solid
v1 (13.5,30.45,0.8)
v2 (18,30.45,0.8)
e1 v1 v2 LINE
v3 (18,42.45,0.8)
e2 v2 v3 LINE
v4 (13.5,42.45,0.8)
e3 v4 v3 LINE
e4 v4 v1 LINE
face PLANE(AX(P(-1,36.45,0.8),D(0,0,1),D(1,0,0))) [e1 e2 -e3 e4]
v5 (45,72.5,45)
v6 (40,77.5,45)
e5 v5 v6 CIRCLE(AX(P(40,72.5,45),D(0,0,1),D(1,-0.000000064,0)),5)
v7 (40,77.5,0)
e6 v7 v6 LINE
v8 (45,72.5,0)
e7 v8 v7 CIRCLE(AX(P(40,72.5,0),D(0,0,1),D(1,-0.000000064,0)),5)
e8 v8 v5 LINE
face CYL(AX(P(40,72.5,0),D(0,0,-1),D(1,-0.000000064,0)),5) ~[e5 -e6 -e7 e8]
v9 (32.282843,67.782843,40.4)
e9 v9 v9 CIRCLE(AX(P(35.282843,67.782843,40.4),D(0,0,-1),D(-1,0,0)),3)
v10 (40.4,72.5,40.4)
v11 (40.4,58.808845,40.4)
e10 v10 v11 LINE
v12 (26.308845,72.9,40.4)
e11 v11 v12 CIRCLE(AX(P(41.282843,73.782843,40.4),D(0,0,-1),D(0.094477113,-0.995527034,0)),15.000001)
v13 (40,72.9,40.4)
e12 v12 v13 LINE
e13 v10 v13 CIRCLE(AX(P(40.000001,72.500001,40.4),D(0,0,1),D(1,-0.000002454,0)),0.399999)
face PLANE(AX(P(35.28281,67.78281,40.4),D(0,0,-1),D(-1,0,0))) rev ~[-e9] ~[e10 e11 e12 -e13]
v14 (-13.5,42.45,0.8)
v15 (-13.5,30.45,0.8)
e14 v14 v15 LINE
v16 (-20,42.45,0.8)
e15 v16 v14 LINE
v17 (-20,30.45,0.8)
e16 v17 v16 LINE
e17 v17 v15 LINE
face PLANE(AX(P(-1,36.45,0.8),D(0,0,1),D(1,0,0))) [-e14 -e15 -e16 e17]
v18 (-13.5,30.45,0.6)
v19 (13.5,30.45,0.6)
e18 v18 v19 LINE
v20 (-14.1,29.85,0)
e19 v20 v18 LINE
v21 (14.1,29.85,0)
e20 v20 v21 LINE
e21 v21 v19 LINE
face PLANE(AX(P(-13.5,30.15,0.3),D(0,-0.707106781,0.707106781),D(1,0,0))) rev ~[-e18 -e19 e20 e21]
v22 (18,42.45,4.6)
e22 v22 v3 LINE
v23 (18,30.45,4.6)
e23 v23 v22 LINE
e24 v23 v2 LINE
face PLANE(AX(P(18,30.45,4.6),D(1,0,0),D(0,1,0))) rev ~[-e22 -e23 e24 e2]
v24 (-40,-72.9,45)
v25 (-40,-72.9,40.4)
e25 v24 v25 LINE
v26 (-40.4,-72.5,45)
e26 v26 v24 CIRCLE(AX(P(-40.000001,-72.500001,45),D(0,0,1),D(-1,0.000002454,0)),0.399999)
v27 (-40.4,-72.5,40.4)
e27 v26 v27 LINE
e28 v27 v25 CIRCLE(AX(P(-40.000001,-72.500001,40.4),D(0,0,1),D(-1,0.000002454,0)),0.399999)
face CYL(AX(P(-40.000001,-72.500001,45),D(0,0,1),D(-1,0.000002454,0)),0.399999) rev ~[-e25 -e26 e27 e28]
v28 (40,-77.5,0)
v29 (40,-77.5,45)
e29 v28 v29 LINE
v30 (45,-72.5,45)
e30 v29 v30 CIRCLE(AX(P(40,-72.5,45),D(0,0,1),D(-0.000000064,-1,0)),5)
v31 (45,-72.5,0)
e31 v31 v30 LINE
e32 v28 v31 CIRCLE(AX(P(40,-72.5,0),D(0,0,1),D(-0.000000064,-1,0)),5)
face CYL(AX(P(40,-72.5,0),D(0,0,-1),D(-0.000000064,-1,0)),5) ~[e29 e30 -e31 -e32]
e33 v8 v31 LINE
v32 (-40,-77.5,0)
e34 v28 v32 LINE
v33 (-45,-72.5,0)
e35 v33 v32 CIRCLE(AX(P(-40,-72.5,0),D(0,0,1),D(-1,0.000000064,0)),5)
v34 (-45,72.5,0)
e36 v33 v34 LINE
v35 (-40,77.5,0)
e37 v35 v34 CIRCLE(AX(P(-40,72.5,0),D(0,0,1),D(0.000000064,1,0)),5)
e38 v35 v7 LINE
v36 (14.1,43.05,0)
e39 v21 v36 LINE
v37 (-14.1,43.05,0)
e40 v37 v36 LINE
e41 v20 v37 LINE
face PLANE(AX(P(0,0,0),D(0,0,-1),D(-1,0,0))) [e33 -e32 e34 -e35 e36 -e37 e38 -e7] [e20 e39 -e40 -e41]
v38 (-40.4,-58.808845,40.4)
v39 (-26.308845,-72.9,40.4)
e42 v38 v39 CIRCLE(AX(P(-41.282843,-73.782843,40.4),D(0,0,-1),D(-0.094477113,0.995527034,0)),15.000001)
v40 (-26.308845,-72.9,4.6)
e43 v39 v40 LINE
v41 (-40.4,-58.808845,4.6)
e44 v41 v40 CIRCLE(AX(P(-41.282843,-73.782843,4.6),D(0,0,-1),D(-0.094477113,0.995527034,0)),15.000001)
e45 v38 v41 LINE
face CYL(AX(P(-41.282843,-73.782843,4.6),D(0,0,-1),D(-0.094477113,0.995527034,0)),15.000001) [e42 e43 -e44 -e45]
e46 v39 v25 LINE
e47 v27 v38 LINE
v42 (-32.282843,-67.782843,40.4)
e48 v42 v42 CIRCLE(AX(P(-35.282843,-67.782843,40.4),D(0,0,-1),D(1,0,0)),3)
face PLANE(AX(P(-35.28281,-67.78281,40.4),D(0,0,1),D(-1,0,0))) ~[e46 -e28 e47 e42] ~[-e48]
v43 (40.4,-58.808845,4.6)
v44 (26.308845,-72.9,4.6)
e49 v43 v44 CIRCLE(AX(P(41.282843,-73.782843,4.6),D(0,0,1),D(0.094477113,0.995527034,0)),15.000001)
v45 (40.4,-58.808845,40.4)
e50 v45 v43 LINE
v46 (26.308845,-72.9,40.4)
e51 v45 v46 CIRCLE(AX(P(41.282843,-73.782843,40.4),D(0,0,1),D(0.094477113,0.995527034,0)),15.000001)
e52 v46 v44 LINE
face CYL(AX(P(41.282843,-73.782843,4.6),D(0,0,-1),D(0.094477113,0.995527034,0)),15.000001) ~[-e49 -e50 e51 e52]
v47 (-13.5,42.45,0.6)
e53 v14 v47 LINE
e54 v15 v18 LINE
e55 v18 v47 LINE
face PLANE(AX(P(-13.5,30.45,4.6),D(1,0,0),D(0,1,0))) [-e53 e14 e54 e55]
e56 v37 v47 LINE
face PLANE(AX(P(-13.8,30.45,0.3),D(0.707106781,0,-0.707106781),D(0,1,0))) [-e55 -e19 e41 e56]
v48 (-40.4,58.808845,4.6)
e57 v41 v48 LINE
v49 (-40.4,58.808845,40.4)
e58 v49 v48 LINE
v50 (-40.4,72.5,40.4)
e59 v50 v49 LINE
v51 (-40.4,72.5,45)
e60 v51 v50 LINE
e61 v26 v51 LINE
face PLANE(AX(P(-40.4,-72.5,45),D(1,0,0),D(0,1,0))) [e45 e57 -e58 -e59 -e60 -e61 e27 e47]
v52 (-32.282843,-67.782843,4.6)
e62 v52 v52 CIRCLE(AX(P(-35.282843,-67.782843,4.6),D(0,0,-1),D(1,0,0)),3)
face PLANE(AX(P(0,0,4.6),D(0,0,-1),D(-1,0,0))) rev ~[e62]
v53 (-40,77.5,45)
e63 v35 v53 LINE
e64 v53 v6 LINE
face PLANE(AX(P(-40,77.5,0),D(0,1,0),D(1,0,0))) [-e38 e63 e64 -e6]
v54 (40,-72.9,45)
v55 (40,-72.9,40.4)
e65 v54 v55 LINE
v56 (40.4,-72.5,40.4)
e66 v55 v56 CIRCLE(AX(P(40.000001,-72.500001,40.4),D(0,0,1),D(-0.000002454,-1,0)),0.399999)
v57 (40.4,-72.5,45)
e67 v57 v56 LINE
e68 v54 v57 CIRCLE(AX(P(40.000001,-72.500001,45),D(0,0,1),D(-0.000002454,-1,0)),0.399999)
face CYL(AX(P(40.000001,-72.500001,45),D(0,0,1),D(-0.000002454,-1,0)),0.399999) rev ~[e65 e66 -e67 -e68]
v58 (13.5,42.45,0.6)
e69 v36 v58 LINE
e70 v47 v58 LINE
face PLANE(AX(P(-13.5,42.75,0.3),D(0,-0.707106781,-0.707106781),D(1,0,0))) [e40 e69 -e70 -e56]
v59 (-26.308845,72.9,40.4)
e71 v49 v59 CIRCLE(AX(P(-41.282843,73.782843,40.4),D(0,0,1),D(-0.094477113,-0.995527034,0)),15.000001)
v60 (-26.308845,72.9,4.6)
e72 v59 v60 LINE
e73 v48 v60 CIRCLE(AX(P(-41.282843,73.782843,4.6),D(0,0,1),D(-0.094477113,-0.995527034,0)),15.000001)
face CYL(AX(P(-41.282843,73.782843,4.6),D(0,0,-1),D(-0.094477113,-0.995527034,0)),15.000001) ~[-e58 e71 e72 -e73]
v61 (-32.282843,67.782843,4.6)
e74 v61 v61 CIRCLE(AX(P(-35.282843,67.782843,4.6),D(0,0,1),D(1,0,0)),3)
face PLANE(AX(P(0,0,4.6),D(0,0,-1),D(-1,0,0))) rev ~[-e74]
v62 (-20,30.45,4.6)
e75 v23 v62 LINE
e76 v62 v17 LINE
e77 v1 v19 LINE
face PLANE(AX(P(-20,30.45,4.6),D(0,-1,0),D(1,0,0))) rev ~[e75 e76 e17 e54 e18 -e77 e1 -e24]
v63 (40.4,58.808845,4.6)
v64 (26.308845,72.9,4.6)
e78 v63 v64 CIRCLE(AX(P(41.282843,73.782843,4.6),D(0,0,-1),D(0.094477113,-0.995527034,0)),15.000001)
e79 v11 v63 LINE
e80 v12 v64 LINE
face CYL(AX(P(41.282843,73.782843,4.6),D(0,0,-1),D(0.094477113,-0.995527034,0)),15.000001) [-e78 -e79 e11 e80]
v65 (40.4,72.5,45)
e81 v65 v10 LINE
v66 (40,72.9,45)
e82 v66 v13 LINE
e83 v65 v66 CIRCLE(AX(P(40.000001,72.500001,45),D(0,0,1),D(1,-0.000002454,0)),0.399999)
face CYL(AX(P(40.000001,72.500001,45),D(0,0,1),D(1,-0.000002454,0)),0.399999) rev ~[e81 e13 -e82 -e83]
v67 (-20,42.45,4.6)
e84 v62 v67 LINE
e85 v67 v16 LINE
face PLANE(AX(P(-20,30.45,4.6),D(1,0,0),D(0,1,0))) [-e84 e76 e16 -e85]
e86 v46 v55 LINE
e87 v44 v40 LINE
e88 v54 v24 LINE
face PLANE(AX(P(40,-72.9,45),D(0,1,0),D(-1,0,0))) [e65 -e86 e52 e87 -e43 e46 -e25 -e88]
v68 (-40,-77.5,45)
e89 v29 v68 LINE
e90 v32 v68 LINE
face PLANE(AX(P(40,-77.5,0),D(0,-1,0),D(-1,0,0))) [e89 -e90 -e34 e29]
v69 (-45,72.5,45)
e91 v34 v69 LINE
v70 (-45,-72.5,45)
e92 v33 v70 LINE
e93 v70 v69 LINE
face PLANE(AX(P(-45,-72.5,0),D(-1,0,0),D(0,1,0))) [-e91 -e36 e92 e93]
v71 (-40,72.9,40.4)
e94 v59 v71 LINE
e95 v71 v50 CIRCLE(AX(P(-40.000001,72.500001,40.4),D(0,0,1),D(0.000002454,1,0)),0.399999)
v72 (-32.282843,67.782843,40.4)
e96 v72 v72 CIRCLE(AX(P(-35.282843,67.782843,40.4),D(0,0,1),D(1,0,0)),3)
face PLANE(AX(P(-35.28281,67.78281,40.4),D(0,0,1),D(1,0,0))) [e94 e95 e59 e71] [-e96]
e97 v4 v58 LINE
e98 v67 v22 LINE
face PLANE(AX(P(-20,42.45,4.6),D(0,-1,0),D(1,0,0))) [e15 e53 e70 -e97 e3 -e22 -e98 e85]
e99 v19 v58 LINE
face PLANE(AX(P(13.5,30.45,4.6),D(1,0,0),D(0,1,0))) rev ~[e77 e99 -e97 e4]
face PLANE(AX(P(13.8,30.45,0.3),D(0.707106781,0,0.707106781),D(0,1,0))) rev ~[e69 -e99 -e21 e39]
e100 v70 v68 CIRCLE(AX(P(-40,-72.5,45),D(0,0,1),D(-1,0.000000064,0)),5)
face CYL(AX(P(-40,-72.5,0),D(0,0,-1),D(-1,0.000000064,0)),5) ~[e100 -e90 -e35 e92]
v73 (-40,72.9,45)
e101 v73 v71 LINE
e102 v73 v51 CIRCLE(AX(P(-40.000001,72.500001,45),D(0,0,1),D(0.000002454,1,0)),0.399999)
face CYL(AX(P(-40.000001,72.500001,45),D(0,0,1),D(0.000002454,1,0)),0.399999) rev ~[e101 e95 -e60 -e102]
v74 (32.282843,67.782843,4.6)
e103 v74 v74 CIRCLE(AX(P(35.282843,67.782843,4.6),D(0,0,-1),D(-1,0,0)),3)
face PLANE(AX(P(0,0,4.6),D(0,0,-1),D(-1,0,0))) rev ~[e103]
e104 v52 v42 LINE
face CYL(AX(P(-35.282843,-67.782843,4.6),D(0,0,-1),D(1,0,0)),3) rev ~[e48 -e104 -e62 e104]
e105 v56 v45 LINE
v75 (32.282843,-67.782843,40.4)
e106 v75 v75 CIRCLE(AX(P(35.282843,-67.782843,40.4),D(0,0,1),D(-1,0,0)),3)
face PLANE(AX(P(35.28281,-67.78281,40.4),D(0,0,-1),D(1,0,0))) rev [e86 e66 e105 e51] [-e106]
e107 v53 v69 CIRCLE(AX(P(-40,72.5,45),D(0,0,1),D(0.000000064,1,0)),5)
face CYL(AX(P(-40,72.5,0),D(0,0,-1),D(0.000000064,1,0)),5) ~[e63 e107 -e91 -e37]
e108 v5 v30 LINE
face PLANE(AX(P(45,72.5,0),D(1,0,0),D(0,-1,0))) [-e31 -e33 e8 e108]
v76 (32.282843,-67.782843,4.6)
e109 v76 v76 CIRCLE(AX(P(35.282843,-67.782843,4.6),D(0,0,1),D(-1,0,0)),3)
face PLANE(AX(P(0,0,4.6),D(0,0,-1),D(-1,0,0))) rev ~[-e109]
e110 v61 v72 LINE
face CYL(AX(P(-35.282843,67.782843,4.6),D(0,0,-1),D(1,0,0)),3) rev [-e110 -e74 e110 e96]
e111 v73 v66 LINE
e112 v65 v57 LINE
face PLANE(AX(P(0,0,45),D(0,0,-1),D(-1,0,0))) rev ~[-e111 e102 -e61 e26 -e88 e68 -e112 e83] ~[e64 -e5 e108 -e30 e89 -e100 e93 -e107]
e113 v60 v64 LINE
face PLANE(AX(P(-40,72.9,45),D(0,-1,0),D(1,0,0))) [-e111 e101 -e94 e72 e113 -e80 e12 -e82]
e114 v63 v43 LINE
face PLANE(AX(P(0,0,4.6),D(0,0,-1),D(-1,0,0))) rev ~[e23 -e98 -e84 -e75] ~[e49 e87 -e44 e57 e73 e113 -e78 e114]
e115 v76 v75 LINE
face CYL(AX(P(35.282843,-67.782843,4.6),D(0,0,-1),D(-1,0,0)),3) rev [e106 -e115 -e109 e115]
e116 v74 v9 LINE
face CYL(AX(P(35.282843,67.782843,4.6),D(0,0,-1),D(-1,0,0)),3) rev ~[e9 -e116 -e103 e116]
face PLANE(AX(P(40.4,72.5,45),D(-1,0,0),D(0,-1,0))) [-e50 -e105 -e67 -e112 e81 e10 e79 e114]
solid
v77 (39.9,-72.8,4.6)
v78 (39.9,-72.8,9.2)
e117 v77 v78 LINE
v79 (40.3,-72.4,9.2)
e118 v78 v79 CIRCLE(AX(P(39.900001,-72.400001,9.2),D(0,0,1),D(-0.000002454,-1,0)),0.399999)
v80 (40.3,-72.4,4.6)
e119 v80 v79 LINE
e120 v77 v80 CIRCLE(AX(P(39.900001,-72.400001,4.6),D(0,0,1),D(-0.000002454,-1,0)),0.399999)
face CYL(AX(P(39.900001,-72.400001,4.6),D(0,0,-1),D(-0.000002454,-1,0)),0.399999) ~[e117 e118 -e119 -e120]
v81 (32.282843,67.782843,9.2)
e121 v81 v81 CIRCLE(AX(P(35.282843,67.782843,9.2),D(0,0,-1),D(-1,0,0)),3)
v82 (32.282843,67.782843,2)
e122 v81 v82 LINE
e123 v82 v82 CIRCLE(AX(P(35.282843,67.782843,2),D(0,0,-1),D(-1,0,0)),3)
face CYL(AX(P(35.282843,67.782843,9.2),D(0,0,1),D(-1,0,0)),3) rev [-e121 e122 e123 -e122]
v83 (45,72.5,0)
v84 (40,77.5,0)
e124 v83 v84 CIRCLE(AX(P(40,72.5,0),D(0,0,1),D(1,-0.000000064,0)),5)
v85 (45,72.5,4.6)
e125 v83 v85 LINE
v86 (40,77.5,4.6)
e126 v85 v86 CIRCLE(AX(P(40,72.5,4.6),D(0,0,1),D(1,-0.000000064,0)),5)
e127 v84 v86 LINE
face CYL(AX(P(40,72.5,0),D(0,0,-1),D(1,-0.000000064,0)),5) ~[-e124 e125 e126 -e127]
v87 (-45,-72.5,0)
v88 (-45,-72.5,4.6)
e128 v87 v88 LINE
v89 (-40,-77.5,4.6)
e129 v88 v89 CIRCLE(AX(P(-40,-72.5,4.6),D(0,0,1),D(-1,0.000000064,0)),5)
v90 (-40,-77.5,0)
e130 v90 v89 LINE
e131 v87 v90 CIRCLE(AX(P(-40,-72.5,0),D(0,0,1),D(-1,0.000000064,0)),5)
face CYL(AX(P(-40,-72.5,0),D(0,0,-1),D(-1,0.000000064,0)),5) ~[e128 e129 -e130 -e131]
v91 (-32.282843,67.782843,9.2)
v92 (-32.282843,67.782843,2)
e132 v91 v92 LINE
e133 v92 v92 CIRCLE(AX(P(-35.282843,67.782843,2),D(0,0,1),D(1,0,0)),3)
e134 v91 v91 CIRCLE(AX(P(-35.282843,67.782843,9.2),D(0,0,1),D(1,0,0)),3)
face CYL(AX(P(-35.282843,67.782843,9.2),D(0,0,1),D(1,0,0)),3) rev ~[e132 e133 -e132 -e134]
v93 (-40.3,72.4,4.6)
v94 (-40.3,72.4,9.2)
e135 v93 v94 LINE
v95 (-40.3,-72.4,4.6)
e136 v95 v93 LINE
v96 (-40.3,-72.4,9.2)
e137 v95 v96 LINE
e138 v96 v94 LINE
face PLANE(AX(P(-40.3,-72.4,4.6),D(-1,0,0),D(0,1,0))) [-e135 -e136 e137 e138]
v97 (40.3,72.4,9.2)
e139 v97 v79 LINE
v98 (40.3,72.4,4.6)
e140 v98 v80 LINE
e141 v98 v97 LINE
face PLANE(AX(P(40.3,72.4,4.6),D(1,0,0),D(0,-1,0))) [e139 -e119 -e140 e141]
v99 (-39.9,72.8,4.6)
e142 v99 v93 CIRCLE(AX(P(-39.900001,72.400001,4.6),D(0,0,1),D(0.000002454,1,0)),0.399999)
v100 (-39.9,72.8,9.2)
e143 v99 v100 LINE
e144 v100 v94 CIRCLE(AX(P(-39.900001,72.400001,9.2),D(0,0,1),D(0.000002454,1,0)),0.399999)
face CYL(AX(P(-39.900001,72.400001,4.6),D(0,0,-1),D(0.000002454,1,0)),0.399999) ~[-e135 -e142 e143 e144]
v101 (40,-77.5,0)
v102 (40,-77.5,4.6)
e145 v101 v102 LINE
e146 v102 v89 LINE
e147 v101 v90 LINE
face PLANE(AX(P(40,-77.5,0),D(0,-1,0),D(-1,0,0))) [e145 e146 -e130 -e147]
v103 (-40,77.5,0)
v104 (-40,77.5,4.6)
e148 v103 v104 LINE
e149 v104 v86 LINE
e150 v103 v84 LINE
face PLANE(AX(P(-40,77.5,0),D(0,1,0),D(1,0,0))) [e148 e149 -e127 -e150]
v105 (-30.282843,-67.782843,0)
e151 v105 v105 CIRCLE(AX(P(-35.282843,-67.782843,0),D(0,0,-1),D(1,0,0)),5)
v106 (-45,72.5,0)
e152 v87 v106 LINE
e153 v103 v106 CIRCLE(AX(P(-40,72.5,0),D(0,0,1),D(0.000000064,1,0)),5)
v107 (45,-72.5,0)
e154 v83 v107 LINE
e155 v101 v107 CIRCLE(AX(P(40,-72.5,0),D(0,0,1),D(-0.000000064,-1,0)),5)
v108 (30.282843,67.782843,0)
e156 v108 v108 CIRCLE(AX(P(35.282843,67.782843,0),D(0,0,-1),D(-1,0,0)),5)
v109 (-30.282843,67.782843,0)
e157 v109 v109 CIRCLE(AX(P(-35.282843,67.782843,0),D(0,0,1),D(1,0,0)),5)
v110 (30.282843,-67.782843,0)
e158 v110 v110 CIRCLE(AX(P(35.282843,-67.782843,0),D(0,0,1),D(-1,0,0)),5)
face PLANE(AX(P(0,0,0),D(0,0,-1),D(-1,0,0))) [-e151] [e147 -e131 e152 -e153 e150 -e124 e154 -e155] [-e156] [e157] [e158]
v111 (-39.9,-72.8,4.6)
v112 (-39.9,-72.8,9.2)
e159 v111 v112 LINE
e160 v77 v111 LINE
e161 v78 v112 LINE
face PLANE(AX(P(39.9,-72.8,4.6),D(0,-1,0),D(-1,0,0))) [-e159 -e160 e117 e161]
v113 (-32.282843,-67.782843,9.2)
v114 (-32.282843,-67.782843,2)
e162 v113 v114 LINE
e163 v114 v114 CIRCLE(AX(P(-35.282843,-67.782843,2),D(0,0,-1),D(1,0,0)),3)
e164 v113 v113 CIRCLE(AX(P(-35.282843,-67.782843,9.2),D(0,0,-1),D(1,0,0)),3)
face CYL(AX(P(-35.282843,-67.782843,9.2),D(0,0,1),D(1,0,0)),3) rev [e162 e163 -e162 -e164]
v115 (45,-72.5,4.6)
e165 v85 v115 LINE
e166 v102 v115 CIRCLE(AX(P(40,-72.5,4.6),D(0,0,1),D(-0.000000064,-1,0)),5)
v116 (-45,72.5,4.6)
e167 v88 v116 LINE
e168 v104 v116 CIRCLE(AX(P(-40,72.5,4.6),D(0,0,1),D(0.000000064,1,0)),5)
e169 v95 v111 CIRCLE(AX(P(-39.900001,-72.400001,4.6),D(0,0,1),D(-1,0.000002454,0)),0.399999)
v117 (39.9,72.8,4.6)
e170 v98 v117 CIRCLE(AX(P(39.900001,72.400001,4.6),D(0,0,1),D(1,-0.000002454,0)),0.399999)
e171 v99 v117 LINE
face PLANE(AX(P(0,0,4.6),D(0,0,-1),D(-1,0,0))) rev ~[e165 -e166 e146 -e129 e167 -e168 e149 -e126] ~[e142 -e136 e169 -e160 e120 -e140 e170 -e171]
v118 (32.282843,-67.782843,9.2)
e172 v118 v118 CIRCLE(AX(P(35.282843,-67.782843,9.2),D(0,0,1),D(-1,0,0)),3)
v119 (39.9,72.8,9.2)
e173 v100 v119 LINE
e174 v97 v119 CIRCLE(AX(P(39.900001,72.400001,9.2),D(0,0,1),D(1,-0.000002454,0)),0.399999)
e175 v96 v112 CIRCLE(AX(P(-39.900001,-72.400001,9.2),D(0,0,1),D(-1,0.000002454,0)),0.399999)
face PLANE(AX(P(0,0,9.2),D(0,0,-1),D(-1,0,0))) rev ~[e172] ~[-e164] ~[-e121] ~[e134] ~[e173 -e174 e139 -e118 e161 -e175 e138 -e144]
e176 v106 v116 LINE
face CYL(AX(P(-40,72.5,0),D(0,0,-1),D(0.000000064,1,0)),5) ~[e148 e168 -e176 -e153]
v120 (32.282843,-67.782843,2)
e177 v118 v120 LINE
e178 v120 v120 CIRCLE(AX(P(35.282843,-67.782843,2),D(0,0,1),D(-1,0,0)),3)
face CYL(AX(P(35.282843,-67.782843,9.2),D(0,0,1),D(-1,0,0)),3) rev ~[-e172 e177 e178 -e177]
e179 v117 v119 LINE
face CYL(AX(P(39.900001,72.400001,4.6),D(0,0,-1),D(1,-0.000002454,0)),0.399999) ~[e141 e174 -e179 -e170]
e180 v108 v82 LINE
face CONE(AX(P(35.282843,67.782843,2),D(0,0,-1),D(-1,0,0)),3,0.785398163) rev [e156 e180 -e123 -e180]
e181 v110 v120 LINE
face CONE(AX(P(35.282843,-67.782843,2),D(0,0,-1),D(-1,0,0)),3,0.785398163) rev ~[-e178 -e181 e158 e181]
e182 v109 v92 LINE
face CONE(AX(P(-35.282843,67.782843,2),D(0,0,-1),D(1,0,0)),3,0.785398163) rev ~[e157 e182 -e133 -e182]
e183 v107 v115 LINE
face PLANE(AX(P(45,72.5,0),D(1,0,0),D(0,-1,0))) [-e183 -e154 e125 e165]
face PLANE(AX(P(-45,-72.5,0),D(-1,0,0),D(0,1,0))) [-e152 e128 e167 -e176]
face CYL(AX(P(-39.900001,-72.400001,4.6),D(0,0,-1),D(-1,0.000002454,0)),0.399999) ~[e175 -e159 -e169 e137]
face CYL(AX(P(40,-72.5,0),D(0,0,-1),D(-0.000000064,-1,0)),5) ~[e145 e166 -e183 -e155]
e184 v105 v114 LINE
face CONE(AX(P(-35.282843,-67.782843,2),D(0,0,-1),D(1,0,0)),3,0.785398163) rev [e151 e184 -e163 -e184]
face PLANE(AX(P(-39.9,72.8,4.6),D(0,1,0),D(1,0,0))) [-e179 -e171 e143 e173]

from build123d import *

# Parameters (mm, degrees)
PAD_DEPTH                     = 45
POCKET_DEPTH                  = 40.4
SKETCH002_R                   = 3
PAD001_DEPTH                  = 35.8
SKETCH002_MIRRORED_2_R        = 3
PAD001_MIRRORED_2_DEPTH       = 35.8
SKETCH006_W                   = 27
SKETCH006_H                   = 12
POCKET002_DEPTH               = 4.6
SKETCH007_W                   = 38
SKETCH007_H                   = 12
POCKET003_DEPTH               = 3.8
CHAMFER001_SIZE               = 0.6
PAD002_DEPTH                  = 4.6
PAD003_DEPTH                  = 4.6
SKETCH005_R                   = 3
POCKET001_DEPTH               = 9.2
SKETCH005_MIRRORED002_2_R     = 3
POCKET001_MIRRORED002_2_DEPTH = 9.2
CHAMFER_SIZE                  = 2


with BuildPart() as boxbody:
    # Sketch → Pad (new body)
    with BuildSketch(Plane.XY):
        with BuildLine():
            Line((-40, 77.5), (40, 77.5))
            ThreePointArc((45, 72.5), (43.535534, 76.035534), (40, 77.5))
            Line((45, 72.5), (45, -72.5))
            ThreePointArc((40, -77.5), (43.535534, -76.035534), (45, -72.5))
            Line((40, -77.5), (-40, -77.5))
            ThreePointArc((-45, -72.5), (-43.535534, -76.035534), (-40, -77.5))
            Line((-45, -72.5), (-45, 72.5))
            ThreePointArc((-40, 77.5), (-43.535534, 76.035534), (-45, 72.5))
        make_face()
    extrude(amount=PAD_DEPTH)

    # Sketch001 (on Face10 of Pad) → Pocket (cut)
    with BuildSketch(Plane.XY.offset(45)):
        with BuildLine():
            Line((-40, 72.9), (40, 72.9))
            ThreePointArc((40.4, 72.5), (40.282843, 72.782843), (40, 72.9))
            Line((40.4, 72.5), (40.4, -72.5))
            ThreePointArc((40, -72.9), (40.282843, -72.782843), (40.4, -72.5))
            Line((40, -72.9), (-40, -72.9))
            ThreePointArc((-40.4, -72.5), (-40.282843, -72.782843), (-40, -72.9))
            Line((-40.4, -72.5), (-40.4, 72.5))
            ThreePointArc((-40, 72.9), (-40.282843, 72.782843), (-40.4, 72.5))
        make_face()
    extrude(amount=-POCKET_DEPTH, mode=Mode.SUBTRACT)

    # Sketch002 (on Face19 of Pocket) → Pad001 (join)
    with BuildSketch(Plane.XY.offset(4.6)):
        with BuildLine():
            Line((-41.282843, 73.782843), (-42.7, 58.849937))
            ThreePointArc((-42.7, 58.849937), (-30.676241, 63.176241), (-26.349937, 75.2))
            Line((-41.282843, 73.782843), (-26.349937, 75.2))
        make_face()
        with Locations((-35.282843, 67.782843)):
            Circle(SKETCH002_R, mode=Mode.SUBTRACT)
    pad001 = extrude(amount=PAD001_DEPTH)

    # Sketch002 Mirrored 2 → Pad001 Mirrored 2 (add)
    with BuildSketch(Plane(origin=(0, 0, 4.6), x_dir=(-1, 0, 0), z_dir=(0, 0, -1))):
        with BuildLine():
            Line((-41.282843, 73.782843), (-42.7, 58.849937))
            ThreePointArc((-42.7, 58.849937), (-30.676241, 63.176241), (-26.349937, 75.2))
            Line((-41.282843, 73.782843), (-26.349937, 75.2))
        make_face()
        with Locations((-35.282843, 67.782843)):
            Circle(SKETCH002_MIRRORED_2_R, mode=Mode.SUBTRACT)
    pad001_mirrored_2 = extrude(amount=-PAD001_MIRRORED_2_DEPTH)

    # Mirrored001: Pad001, Pad001 Mirrored 2 across Sketch002 H_Axis
    add(pad001.mirror(Plane(origin=(0, 0, 4.6), x_dir=(0, 0, 1), z_dir=(0, 1, 0))))
    add(pad001_mirrored_2.mirror(Plane(origin=(0, 0, 4.6), x_dir=(0, 0, 1), z_dir=(0, 1, 0))))

    # Sketch006 (on Face21 of MultiTransform) → Pocket002 (cut)
    with BuildSketch(Plane.XY.offset(4.6)):
        with Locations((0, 36.45)):
            Rectangle(SKETCH006_W, SKETCH006_H)
    extrude(amount=-POCKET002_DEPTH, mode=Mode.SUBTRACT)

    # Sketch007 (on Face23 of Pocket002) → Pocket003 (cut)
    with BuildSketch(Plane.XY.offset(4.6)):
        with Locations((-1, 36.45)):
            Rectangle(SKETCH007_W, SKETCH007_H)
    extrude(amount=-POCKET003_DEPTH, mode=Mode.SUBTRACT)

    # Chamfer001
    chamfer001_edges = [boxbody.edges().sort_by_distance(p)[0] for p in [
        (0, 42.45, 0),
        (13.5, 36.45, 0),
        (0, 30.45, 0),
        (-13.5, 36.45, 0),
    ]]
    chamfer(chamfer001_edges, length=CHAMFER001_SIZE)


with BuildPart() as lidbody:
    # Sketch003 → Pad002 (new body)
    with BuildSketch(Plane.XY):
        with BuildLine():
            Line((-40, 77.5), (40, 77.5))
            ThreePointArc((45, 72.5), (43.535534, 76.035534), (40, 77.5))
            Line((45, 72.5), (45, -72.5))
            ThreePointArc((40, -77.5), (43.535534, -76.035534), (45, -72.5))
            Line((40, -77.5), (-40, -77.5))
            ThreePointArc((-45, -72.5), (-43.535534, -76.035534), (-40, -77.5))
            Line((-45, -72.5), (-45, 72.5))
            ThreePointArc((-40, 77.5), (-43.535534, 76.035534), (-45, 72.5))
        make_face()
    extrude(amount=PAD002_DEPTH)

    # Sketch004 (on Face10 of Pad002) → Pad003 (join)
    with BuildSketch(Plane.XY.offset(4.6)):
        with BuildLine():
            Line((-39.9, 72.8), (39.9, 72.8))
            ThreePointArc((40.3, 72.4), (40.182843, 72.682843), (39.9, 72.8))
            Line((40.3, 72.4), (40.3, -72.4))
            ThreePointArc((39.9, -72.8), (40.182843, -72.682843), (40.3, -72.4))
            Line((39.9, -72.8), (-39.9, -72.8))
            ThreePointArc((-40.3, -72.4), (-40.182843, -72.682843), (-39.9, -72.8))
            Line((-40.3, -72.4), (-40.3, 72.4))
            ThreePointArc((-39.9, 72.8), (-40.182843, 72.682843), (-40.3, 72.4))
        make_face()
    extrude(amount=PAD003_DEPTH)

    # Sketch005 (on Face19 of Pad003) → Pocket001 (cut)
    with BuildSketch(Plane.XY.offset(9.2)):
        with Locations((-35.282843, 67.782843)):
            Circle(SKETCH005_R)
    pocket001 = extrude(amount=-POCKET001_DEPTH, mode=Mode.SUBTRACT)

    # Sketch005 Mirrored002 2 → Pocket001 Mirrored002 2 (cut)
    with BuildSketch(Plane(origin=(0, 0, 9.2), x_dir=(-1, 0, 0), z_dir=(0, 0, -1))):
        with Locations((-35.282843, 67.782843)):
            Circle(SKETCH005_MIRRORED002_2_R)
    pocket001_mirrored002_2 = extrude(amount=POCKET001_MIRRORED002_2_DEPTH, mode=Mode.SUBTRACT)

    # Mirrored003: Pocket001, Pocket001 Mirrored002 2 across Sketch005 H_Axis
    add(pocket001.mirror(Plane(origin=(0, 0, 9.2), x_dir=(0, 0, 1), z_dir=(0, 1, 0))), mode=Mode.SUBTRACT)
    add(pocket001_mirrored002_2.mirror(Plane(origin=(0, 0, 9.2), x_dir=(0, 0, 1), z_dir=(0, 1, 0))), mode=Mode.SUBTRACT)

    # Chamfer
    chamfer_edges = [lidbody.edges().sort_by_distance(p)[0] for p in [
        (-38.282843, 67.782843, 0),
        (-38.282843, -67.782843, 0),
        (38.282843, -67.782843, 0),
        (38.282843, 67.782843, 0),
    ]]
    chamfer(chamfer_edges, length=CHAMFER_SIZE)


solid = Compound([boxbody.part, lidbody.part])
